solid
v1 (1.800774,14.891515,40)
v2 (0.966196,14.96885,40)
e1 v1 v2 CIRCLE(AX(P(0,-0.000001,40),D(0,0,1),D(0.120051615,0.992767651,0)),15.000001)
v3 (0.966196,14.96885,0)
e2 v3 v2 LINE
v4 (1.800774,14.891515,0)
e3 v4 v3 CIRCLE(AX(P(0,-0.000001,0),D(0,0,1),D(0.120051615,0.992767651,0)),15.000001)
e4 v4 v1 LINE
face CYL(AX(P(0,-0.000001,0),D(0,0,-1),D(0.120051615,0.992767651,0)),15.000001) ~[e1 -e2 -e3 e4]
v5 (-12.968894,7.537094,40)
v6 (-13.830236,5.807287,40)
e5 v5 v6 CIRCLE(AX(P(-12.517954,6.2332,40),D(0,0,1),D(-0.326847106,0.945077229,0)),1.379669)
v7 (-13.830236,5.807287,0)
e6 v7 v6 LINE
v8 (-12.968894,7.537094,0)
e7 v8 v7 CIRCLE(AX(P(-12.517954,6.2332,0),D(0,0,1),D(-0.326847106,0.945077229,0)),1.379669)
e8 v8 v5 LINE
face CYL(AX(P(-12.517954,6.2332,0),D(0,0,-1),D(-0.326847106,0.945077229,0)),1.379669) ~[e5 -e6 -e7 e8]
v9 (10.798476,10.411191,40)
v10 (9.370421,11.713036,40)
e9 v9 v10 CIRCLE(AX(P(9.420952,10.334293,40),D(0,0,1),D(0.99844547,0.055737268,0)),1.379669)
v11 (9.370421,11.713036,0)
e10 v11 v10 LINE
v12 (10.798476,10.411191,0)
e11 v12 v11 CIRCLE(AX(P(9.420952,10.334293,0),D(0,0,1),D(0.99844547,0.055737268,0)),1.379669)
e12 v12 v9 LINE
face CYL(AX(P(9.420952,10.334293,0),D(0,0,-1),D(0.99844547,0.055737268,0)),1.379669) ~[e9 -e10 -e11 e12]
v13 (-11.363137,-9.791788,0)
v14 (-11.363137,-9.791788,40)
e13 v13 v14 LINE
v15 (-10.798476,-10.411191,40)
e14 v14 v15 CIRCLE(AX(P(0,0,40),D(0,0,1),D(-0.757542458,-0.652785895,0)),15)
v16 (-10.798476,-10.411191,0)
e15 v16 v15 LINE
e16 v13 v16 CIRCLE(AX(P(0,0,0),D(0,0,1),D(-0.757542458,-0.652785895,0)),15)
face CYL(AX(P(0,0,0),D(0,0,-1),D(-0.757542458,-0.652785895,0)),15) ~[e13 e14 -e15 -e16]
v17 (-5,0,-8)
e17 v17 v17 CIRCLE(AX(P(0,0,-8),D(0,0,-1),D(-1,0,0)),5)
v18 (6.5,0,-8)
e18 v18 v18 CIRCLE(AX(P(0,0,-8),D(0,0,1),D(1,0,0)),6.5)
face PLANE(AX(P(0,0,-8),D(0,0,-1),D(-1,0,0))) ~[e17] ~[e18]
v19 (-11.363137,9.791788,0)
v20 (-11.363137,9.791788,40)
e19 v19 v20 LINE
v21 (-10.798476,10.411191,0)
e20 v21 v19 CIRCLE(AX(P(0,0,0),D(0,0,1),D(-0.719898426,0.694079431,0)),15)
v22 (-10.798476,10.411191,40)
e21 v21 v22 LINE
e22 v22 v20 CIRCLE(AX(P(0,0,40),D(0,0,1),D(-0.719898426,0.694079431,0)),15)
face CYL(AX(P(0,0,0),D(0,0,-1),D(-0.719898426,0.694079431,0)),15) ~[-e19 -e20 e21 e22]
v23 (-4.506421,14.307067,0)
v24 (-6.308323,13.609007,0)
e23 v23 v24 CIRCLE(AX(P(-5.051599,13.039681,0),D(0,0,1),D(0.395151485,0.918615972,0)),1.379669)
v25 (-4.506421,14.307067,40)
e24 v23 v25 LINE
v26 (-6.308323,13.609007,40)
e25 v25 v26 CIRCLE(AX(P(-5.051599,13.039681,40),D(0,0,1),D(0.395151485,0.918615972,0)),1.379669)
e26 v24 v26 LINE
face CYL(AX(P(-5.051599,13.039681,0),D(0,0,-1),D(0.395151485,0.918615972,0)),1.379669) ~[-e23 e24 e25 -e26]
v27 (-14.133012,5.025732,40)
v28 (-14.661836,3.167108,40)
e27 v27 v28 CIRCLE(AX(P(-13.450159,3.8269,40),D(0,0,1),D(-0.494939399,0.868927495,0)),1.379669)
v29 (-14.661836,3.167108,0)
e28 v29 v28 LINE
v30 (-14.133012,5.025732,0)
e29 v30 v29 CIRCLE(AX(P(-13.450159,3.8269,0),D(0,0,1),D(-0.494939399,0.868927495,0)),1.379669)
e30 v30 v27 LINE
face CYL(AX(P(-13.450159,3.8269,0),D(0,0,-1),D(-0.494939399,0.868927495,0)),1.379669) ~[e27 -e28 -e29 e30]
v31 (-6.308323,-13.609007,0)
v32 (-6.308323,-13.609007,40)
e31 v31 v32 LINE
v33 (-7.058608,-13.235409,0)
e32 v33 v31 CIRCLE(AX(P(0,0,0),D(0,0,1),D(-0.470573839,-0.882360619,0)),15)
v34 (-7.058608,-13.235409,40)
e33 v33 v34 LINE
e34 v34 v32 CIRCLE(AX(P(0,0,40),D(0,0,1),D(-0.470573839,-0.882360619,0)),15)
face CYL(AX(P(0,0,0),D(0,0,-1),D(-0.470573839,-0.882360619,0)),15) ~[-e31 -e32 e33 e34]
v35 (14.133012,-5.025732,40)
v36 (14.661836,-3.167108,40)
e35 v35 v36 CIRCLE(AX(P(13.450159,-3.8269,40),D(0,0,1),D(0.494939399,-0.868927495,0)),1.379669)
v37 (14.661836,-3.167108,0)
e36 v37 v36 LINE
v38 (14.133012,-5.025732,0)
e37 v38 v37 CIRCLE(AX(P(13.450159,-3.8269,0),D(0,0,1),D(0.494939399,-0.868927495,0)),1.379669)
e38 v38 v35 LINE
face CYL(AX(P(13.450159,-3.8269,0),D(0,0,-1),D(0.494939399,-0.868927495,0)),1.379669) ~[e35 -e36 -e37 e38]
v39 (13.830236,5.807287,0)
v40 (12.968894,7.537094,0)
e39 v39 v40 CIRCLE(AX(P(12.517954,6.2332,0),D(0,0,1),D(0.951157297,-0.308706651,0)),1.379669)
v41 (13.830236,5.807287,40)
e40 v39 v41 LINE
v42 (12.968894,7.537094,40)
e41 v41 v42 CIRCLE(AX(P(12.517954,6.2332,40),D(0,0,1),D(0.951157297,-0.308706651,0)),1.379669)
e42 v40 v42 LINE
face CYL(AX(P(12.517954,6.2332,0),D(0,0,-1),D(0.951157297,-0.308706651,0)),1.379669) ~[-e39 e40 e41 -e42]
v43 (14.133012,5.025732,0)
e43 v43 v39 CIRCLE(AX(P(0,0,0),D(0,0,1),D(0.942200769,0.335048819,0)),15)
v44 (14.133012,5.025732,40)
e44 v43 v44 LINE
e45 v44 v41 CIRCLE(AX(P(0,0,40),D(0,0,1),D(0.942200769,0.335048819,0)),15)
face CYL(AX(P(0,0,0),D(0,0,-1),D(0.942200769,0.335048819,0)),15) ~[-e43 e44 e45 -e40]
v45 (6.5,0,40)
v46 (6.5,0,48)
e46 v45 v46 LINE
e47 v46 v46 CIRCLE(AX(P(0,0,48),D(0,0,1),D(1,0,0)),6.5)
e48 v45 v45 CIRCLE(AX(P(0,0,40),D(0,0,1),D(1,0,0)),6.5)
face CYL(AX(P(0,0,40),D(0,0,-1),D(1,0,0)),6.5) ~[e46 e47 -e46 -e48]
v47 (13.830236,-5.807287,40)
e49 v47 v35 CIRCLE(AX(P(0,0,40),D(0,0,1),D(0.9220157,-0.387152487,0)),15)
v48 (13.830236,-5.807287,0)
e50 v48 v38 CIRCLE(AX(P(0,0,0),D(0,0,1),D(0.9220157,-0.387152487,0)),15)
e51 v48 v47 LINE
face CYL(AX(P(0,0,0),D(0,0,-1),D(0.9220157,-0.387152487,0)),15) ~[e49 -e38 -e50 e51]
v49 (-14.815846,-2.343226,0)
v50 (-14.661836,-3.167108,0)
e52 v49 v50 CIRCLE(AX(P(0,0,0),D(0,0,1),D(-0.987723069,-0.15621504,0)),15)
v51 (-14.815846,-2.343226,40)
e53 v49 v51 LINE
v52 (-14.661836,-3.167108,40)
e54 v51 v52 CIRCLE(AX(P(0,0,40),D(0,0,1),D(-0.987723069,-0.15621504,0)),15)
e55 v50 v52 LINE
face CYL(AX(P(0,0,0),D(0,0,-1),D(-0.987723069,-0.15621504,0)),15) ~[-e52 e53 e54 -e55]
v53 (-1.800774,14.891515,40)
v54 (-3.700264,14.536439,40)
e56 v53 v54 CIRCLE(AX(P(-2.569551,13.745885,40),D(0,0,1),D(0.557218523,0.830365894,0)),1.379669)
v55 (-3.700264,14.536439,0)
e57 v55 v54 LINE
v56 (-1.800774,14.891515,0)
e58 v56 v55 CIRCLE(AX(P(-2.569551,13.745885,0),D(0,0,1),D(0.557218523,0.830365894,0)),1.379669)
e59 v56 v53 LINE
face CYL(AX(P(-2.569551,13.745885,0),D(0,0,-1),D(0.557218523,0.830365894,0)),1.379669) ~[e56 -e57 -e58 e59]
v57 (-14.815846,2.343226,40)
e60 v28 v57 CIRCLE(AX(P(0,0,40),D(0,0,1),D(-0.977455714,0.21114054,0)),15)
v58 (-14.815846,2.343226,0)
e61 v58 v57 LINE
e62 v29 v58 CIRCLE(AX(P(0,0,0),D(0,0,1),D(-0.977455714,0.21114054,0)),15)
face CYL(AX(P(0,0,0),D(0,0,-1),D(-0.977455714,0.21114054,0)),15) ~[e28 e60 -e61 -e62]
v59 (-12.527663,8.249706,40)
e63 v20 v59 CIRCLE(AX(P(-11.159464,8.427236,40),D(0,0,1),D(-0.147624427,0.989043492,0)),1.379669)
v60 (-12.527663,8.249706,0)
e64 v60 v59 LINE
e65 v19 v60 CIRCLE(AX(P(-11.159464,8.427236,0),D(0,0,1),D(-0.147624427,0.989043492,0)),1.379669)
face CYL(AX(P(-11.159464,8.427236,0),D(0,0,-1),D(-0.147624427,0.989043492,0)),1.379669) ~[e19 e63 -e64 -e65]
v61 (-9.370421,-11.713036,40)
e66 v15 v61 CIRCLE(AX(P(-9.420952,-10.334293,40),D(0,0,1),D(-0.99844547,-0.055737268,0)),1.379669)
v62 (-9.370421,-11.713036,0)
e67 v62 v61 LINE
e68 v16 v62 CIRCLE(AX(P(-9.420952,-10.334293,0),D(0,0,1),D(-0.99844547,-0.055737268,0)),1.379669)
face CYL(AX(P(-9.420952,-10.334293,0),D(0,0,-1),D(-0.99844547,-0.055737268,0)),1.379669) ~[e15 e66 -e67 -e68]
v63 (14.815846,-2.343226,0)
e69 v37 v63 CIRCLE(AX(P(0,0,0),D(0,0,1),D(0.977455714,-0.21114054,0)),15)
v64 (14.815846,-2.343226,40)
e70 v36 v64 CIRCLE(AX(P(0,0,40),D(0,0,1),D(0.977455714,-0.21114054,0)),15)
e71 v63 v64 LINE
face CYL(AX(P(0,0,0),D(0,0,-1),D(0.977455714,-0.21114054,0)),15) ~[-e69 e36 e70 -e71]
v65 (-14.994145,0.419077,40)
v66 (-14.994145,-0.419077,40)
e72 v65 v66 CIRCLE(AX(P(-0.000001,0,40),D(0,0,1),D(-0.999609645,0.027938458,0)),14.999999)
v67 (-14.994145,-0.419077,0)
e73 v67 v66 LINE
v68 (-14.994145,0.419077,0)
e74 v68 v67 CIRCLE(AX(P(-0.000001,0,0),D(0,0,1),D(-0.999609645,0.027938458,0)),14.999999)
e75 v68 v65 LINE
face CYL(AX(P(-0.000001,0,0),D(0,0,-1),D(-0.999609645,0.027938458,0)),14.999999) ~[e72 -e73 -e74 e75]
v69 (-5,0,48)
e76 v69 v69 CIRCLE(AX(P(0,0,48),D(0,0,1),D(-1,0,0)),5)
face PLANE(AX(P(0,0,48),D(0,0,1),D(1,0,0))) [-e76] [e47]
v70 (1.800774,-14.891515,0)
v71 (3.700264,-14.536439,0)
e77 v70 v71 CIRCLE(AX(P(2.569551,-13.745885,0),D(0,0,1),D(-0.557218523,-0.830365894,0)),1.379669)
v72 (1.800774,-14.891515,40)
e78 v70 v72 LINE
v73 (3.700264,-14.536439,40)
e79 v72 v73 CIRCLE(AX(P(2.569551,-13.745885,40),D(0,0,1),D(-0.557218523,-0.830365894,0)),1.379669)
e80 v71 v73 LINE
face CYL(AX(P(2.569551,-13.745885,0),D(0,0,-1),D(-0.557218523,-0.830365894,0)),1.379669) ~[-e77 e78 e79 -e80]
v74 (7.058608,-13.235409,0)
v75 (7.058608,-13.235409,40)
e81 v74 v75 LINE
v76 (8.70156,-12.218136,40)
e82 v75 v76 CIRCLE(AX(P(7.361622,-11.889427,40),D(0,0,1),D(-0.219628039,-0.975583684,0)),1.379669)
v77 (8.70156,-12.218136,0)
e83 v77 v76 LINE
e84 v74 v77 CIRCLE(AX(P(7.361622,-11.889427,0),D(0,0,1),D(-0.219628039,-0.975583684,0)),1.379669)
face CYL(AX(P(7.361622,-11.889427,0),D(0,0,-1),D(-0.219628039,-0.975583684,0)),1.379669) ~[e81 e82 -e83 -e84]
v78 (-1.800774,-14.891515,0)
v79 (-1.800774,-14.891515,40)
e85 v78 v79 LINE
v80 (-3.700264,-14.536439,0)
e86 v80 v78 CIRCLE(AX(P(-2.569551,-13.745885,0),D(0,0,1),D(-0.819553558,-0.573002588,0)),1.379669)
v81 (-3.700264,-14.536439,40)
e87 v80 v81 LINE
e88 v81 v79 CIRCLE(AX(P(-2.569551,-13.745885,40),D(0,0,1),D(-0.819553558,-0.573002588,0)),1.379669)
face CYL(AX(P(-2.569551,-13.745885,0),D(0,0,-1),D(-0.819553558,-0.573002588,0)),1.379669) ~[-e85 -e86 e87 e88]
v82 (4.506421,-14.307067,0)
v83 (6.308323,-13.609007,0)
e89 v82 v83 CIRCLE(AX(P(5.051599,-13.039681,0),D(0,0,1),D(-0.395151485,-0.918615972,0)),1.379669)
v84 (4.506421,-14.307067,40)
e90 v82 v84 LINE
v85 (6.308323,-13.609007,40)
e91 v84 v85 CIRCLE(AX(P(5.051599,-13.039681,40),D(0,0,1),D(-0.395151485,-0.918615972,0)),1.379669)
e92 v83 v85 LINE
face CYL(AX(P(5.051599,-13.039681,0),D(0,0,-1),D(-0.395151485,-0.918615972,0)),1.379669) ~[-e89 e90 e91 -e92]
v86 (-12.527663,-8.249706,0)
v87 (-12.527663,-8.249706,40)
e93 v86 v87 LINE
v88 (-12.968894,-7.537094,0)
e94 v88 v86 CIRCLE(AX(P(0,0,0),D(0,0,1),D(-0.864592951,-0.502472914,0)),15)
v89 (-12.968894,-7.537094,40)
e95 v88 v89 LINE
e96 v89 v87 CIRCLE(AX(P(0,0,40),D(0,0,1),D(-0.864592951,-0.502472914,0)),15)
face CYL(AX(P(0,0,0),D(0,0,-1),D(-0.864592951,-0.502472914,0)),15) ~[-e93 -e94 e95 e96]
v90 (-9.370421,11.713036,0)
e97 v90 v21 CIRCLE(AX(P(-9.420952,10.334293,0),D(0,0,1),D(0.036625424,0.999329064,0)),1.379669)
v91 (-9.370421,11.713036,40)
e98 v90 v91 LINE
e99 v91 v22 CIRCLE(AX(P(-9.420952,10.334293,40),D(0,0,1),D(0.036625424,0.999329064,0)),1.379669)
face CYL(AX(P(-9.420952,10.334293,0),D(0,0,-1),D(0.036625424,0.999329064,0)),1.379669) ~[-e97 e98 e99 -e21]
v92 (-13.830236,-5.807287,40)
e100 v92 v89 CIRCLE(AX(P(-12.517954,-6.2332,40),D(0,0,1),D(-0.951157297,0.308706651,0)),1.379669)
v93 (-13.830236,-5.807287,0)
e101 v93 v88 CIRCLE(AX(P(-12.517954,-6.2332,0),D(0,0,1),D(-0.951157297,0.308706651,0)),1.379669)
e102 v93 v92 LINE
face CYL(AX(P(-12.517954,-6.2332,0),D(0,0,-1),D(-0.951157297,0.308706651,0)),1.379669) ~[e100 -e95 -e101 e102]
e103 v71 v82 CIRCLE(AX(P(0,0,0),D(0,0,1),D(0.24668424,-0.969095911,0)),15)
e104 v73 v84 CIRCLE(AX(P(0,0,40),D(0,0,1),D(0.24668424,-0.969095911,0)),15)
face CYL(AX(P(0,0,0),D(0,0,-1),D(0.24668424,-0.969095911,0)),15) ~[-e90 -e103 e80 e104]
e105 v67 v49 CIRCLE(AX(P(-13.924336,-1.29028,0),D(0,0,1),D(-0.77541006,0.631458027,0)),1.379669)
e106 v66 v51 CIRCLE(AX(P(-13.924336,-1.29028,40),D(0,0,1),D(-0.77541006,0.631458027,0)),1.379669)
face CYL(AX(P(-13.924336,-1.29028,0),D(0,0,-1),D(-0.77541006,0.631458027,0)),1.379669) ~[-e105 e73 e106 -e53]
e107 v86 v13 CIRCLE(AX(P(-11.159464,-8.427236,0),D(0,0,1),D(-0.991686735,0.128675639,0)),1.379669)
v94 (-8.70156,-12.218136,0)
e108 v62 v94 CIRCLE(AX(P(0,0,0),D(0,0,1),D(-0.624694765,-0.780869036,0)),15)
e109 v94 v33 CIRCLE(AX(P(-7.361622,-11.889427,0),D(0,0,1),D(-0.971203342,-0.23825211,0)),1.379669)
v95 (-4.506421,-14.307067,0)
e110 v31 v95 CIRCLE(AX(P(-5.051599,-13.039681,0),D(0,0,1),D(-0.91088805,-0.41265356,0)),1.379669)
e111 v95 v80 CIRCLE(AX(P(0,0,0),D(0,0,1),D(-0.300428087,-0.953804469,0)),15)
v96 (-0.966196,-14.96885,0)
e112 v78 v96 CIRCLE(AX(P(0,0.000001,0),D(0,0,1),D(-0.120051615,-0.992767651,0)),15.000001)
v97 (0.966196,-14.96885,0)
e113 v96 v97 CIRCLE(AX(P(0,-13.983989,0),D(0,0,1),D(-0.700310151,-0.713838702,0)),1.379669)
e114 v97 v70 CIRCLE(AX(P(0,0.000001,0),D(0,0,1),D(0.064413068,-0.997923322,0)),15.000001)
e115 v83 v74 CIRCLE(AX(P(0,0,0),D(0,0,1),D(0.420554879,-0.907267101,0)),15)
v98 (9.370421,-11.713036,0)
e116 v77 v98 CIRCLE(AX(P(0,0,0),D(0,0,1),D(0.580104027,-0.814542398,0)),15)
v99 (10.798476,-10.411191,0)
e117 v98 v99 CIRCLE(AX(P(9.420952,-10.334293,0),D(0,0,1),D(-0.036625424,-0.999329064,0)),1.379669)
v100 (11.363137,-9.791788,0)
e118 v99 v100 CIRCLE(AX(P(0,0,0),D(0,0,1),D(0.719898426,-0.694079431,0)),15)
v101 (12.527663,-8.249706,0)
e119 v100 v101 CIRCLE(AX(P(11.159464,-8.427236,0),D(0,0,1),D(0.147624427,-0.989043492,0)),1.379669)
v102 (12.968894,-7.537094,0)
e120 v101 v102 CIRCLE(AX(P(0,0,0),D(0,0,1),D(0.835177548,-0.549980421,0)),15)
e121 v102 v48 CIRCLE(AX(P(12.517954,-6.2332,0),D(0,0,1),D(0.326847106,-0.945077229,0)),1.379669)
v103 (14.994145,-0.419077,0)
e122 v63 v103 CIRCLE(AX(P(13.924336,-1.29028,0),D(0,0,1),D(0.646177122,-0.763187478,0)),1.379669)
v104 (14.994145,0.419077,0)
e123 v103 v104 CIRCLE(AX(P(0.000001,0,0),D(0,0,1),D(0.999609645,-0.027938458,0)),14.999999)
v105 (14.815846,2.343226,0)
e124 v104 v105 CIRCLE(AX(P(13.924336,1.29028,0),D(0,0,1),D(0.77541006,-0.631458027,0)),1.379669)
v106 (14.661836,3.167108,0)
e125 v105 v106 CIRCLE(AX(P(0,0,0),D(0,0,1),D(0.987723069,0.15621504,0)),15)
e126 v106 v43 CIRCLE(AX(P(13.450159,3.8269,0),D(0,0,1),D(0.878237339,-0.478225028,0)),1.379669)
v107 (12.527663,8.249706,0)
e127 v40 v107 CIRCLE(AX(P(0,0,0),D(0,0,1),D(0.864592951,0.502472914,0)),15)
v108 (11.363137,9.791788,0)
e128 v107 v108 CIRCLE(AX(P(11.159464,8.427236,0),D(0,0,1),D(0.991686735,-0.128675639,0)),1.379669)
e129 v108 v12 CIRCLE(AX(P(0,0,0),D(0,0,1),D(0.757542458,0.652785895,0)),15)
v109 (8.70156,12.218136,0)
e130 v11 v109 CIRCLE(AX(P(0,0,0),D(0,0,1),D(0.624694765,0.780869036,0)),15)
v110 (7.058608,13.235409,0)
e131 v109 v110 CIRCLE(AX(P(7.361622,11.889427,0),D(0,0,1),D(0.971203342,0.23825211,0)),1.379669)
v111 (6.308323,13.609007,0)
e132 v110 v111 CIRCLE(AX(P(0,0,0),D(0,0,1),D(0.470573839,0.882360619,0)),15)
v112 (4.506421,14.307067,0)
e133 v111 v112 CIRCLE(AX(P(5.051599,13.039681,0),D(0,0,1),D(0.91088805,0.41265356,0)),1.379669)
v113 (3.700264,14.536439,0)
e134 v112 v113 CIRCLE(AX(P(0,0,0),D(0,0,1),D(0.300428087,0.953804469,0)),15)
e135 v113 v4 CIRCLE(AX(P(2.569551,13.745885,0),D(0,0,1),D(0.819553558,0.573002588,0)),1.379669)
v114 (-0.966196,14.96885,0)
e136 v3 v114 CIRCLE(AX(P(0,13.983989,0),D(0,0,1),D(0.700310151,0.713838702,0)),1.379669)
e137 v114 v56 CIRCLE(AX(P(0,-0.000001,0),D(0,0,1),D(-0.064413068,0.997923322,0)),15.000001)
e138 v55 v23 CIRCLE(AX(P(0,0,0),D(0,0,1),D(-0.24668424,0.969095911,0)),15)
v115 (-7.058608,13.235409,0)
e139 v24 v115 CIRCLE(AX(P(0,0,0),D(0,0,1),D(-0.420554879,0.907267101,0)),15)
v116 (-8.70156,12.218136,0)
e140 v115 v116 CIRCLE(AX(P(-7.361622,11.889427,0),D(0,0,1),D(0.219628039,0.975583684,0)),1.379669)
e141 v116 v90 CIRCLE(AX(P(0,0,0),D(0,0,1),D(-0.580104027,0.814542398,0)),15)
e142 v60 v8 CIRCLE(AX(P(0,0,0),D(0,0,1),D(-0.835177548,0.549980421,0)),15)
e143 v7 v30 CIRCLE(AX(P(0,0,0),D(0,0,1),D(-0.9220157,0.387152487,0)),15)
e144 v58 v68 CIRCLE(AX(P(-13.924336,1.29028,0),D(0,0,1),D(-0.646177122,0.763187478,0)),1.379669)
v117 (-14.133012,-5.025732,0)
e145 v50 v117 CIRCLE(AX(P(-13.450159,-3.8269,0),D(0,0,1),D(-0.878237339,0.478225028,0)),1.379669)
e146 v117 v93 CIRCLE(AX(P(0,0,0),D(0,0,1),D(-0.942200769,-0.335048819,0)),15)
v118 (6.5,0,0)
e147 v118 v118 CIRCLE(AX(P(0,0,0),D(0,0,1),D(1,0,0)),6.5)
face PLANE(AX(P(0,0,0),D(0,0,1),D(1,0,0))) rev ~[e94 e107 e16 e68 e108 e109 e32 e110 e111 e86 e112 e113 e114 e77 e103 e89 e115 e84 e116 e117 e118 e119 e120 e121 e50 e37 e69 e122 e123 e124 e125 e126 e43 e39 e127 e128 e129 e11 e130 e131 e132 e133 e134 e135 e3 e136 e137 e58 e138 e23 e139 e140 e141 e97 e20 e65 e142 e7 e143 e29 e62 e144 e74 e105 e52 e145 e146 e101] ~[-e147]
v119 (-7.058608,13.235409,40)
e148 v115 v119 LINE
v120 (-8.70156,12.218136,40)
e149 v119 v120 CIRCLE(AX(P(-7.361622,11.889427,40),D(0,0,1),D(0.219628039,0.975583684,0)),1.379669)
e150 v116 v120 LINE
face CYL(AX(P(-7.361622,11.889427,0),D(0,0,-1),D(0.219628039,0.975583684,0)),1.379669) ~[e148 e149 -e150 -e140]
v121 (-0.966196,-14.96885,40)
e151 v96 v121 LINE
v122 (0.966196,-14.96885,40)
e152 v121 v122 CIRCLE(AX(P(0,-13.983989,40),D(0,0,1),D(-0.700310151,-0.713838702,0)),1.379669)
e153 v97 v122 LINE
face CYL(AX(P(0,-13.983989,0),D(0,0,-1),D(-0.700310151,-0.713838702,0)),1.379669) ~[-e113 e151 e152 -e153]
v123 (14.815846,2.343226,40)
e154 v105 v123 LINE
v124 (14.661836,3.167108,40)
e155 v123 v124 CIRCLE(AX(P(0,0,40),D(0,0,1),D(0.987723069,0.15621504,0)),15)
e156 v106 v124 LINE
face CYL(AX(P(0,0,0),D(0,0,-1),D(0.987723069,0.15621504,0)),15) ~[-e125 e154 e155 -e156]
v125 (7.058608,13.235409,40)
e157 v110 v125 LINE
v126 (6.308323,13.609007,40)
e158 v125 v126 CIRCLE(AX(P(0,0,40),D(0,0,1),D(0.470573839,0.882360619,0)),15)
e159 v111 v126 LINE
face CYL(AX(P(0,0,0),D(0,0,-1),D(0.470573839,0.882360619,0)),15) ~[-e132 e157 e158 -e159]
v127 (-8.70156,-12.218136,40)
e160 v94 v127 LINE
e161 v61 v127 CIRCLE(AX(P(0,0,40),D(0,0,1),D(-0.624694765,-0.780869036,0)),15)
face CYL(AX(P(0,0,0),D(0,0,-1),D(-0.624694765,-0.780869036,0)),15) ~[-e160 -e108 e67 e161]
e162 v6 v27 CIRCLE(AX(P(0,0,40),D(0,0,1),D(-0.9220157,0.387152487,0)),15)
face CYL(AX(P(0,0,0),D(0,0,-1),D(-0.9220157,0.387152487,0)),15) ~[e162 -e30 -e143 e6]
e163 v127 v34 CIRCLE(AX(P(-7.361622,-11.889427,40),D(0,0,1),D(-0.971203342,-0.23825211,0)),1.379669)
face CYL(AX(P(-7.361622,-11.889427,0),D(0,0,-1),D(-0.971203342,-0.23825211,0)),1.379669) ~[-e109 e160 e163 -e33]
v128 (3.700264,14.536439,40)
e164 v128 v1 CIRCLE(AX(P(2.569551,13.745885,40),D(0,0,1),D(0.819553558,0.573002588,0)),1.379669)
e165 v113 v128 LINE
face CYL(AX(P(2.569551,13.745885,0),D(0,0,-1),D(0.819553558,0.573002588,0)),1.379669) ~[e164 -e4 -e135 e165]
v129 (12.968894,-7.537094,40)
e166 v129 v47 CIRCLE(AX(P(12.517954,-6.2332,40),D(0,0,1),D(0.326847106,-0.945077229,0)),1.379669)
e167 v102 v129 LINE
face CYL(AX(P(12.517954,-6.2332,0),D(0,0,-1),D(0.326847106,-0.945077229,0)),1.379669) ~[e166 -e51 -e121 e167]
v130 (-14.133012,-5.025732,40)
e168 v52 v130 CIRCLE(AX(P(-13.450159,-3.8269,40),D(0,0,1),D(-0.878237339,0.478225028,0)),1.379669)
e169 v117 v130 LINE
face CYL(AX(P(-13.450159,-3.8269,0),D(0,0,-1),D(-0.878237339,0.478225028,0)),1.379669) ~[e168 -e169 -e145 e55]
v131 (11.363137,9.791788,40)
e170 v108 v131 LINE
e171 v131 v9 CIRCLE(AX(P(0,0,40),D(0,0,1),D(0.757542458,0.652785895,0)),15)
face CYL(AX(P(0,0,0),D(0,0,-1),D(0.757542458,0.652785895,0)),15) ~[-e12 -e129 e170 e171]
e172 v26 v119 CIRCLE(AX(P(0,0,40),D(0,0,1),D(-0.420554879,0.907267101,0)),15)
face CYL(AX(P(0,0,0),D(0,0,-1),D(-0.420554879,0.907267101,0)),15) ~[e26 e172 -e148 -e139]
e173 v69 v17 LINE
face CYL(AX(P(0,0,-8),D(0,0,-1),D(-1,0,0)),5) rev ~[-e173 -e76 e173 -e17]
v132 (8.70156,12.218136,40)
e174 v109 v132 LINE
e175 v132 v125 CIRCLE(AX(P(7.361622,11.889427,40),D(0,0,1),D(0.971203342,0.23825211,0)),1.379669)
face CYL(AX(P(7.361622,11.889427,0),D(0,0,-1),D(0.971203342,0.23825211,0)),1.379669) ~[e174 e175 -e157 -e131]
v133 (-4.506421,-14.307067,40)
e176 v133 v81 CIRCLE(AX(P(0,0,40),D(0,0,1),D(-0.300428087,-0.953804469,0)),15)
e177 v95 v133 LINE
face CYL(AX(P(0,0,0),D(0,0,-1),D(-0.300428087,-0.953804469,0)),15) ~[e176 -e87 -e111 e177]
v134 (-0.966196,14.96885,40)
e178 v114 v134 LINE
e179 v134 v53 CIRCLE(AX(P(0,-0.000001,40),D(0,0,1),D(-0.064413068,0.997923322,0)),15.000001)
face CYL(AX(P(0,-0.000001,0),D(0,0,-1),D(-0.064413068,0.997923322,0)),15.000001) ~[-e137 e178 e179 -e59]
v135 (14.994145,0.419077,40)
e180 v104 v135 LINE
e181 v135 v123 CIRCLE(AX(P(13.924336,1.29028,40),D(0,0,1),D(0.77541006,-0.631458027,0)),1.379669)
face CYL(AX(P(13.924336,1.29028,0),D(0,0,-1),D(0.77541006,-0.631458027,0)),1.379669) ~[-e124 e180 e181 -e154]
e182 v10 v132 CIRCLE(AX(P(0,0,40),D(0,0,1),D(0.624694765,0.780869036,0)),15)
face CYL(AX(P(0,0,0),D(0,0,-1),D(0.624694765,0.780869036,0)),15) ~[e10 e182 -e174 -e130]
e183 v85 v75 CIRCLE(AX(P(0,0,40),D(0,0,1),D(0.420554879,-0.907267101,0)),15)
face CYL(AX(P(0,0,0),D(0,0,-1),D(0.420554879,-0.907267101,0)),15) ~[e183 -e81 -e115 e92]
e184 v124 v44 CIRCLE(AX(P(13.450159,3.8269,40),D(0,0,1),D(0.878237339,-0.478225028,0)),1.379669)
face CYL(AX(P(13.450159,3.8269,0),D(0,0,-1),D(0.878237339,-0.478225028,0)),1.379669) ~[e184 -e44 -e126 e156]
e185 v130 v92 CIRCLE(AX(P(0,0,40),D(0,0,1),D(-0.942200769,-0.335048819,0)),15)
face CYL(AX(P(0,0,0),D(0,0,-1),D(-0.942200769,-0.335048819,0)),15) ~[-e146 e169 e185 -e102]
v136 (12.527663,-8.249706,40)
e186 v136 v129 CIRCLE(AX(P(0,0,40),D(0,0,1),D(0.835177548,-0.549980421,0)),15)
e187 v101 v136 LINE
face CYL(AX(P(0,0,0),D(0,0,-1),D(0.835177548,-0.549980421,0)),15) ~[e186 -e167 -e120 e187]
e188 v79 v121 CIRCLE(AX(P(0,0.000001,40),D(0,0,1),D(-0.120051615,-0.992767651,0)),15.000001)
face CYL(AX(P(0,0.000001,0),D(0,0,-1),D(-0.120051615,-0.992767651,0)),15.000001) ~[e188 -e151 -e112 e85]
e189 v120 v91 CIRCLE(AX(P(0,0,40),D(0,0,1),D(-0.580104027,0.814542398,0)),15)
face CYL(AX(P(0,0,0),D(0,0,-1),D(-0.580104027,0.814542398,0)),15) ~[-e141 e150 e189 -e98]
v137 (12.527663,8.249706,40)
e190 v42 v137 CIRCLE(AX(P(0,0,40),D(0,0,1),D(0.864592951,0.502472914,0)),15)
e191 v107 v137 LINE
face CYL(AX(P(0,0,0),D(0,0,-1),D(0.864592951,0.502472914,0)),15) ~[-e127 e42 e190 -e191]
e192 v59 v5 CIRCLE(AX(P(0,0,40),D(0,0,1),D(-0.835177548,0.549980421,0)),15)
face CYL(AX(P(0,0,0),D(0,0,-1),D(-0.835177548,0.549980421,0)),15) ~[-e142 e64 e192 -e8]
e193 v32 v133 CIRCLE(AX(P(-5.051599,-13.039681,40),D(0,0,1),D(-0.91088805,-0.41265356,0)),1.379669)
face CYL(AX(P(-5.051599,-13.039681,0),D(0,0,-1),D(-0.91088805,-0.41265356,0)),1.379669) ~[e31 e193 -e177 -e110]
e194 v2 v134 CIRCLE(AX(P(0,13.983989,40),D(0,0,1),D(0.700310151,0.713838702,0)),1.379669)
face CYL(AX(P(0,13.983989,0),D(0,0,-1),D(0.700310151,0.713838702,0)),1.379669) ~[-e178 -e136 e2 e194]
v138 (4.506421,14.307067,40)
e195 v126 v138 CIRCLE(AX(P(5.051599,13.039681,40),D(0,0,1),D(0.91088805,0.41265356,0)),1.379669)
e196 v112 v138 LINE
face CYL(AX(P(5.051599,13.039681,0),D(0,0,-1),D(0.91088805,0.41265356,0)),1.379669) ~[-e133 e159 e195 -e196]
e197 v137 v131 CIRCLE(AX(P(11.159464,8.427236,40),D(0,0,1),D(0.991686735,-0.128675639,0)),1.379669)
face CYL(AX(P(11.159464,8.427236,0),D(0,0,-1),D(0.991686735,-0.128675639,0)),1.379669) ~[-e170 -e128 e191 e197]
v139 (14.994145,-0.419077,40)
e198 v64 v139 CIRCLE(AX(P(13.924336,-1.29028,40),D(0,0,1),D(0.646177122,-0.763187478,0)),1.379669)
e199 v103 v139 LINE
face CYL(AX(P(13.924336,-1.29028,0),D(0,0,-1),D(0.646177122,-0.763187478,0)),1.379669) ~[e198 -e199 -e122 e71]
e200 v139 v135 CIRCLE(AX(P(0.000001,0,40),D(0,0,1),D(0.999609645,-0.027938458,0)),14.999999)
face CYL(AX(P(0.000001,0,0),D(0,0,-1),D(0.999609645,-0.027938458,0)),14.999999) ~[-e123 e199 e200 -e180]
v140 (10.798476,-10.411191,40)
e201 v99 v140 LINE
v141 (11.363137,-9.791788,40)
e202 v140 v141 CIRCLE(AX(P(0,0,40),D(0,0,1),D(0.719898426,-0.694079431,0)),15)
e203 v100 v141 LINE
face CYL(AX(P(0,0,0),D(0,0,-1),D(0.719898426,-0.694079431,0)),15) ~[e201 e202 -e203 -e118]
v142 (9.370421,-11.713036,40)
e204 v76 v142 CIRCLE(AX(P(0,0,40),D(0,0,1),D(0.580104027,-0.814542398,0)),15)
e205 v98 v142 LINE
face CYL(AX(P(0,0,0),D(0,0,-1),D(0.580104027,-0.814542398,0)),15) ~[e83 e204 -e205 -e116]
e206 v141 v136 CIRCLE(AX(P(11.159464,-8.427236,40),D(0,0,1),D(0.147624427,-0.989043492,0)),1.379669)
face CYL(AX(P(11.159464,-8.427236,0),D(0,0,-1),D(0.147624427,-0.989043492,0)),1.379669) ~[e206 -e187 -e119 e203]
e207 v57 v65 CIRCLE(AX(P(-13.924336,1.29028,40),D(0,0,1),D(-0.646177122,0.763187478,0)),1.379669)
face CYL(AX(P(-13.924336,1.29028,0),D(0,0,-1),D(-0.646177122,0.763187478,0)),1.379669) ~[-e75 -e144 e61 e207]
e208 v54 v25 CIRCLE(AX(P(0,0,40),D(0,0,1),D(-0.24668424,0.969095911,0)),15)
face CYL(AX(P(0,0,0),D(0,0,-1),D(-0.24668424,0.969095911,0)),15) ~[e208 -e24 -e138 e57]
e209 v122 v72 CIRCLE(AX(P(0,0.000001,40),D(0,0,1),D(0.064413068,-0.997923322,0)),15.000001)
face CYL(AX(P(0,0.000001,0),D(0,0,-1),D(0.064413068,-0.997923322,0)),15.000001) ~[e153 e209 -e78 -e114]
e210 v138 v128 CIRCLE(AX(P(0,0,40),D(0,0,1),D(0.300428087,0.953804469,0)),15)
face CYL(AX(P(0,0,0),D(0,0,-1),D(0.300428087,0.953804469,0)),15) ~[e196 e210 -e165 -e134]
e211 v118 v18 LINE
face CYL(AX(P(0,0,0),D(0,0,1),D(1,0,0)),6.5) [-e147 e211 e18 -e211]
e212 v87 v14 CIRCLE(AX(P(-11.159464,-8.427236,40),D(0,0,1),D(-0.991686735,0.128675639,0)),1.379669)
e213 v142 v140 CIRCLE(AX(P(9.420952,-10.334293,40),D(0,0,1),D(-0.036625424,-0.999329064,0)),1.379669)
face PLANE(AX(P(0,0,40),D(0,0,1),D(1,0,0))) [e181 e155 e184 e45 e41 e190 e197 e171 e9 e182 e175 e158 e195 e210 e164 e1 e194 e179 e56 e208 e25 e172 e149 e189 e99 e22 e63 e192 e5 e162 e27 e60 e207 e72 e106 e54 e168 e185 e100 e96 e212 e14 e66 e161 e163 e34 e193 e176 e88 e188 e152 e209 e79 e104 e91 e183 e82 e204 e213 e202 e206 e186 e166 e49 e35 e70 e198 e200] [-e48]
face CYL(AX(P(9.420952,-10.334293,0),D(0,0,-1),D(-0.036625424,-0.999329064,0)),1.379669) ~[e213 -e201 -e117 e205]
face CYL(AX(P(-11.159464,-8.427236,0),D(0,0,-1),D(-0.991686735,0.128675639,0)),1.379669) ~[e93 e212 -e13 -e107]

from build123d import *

# Parameters (mm, degrees)
SKETCH1_R               = 5
BOSS_EXTRUDE1_DEPTH     = 40
SKETCH2_R               = 6.5
BOSS_EXTRUDE2_DEPTH     = 8
CUT_EXTRUDE1_DEPTH      = 53.671192562
CUT_EXTRUDE1_DEPTH_BACK = 53.671192562
SKETCH3_R               = 5
SKETCH4_R               = 5
CUT_EXTRUDE2_DEPTH      = 61.052098431


with BuildPart() as part:
    # Sketch1 → Boss-Extrude1 (new body)
    with BuildSketch(Plane.XY):
        with BuildLine():
            ThreePointArc((-3.700263623, 14.536438667), (-4.104944851, 14.427384648), (-4.506421309, 14.30706703))
            ThreePointArc((-4.506421309, 14.30706703), (-5.549993278, 14.326184075), (-6.308323199, 13.609006518))
            ThreePointArc((-6.308323199, 13.609006518), (-6.686075337, 13.42744937), (-7.05860759, 13.235409283))
            ThreePointArc((-7.05860759, 13.235409283), (-8.087923512, 13.062444978), (-8.701560395, 12.218135975))
            ThreePointArc((-8.701560395, 12.218135975), (-9.039519546, 11.970258409), (-9.370421456, 11.713035547))
            ThreePointArc((-9.370421456, 11.713035547), (-10.350429211, 11.353879984), (-10.798476387, 10.411191465))
            ThreePointArc((-10.798476387, 10.411191465), (-11.085133758, 10.105434655), (-11.363136858, 9.791788434))
            ThreePointArc((-11.363136858, 9.791788434), (-12.260463457, 9.258672225), (-12.527663218, 8.249706316))
            ThreePointArc((-12.527663218, 8.249706316), (-12.753257036, 7.896482443), (-12.968894263, 7.53709371))
            ThreePointArc((-12.968894263, 7.53709371), (-13.752982325, 6.848171487), (-13.830235503, 5.807287313))
            ThreePointArc((-13.830235503, 5.807287313), (-13.987083441, 5.418624993), (-14.133011528, 5.025732299))
            ThreePointArc((-14.133011528, 5.025732299), (-14.777159874, 4.204464483), (-14.661835705, 3.167108106))
            ThreePointArc((-14.661835705, 3.167108106), (-14.744596495, 2.756242767), (-14.815846036, 2.343225603))
            ThreePointArc((-14.815846036, 2.343225603), (-15.298118968, 1.417579484), (-14.994144677, 0.419076831))
            ThreePointArc((-14.994144677, 0.419076831), (-15, 0), (-14.994144677, -0.419076831))
            ThreePointArc((-14.994144677, -0.419076831), (-15.298118968, -1.417579484), (-14.815846036, -2.343225603))
            ThreePointArc((-14.815846036, -2.343225603), (-14.744596495, -2.756242767), (-14.661835705, -3.167108106))
            ThreePointArc((-14.661835705, -3.167108106), (-14.777159874, -4.204464483), (-14.133011528, -5.025732299))
            ThreePointArc((-14.133011528, -5.025732299), (-13.987083441, -5.418624993), (-13.830235503, -5.807287313))
            ThreePointArc((-13.830235503, -5.807287313), (-13.752982325, -6.848171487), (-12.968894263, -7.53709371))
            ThreePointArc((-12.968894263, -7.53709371), (-12.753257036, -7.896482443), (-12.527663218, -8.249706316))
            ThreePointArc((-12.527663218, -8.249706316), (-12.260463457, -9.258672225), (-11.363136858, -9.791788434))
            ThreePointArc((-11.363136858, -9.791788434), (-11.085133758, -10.105434655), (-10.798476387, -10.411191465))
            ThreePointArc((-10.798476387, -10.411191465), (-10.350429211, -11.353879984), (-9.370421456, -11.713035547))
            ThreePointArc((-9.370421456, -11.713035547), (-9.039519546, -11.970258409), (-8.701560395, -12.218135975))
            ThreePointArc((-8.701560395, -12.218135975), (-8.087923512, -13.062444978), (-7.05860759, -13.235409283))
            ThreePointArc((-7.05860759, -13.235409283), (-6.686075337, -13.42744937), (-6.308323199, -13.609006518))
            ThreePointArc((-6.308323199, -13.609006518), (-5.549993278, -14.326184075), (-4.506421309, -14.30706703))
            ThreePointArc((-4.506421309, -14.30706703), (-4.104944851, -14.427384648), (-3.700263623, -14.536438667))
            ThreePointArc((-3.700263623, -14.536438667), (-2.82306468, -15.102062156), (-1.800774254, -14.891514768))
            ThreePointArc((-1.800774254, -14.891514768), (-1.384025392, -14.936012644), (-0.966196008, -14.968849831))
            ThreePointArc((-0.966196008, -14.968849831), (0, -15.363657622), (0.966196008, -14.968849831))
            ThreePointArc((0.966196008, -14.968849831), (1.384025392, -14.936012644), (1.800774254, -14.891514768))
            ThreePointArc((1.800774254, -14.891514768), (2.82306468, -15.102062156), (3.700263623, -14.536438667))
            ThreePointArc((3.700263623, -14.536438667), (4.104944851, -14.427384648), (4.506421309, -14.30706703))
            ThreePointArc((4.506421309, -14.30706703), (5.549993278, -14.326184075), (6.308323199, -13.609006518))
            ThreePointArc((6.308323199, -13.609006518), (6.686075337, -13.42744937), (7.05860759, -13.235409283))
            ThreePointArc((7.05860759, -13.235409283), (8.087923512, -13.062444978), (8.701560395, -12.218135975))
            ThreePointArc((8.701560395, -12.218135975), (9.039519546, -11.970258409), (9.370421456, -11.713035547))
            ThreePointArc((9.370421456, -11.713035547), (10.350429211, -11.353879984), (10.798476387, -10.411191465))
            ThreePointArc((10.798476387, -10.411191465), (11.085133758, -10.105434655), (11.363136858, -9.791788434))
            ThreePointArc((11.363136858, -9.791788434), (12.260463457, -9.258672225), (12.527663218, -8.249706316))
            ThreePointArc((12.527663218, -8.249706316), (12.753257036, -7.896482443), (12.968894263, -7.53709371))
            ThreePointArc((12.968894263, -7.53709371), (13.752982325, -6.848171487), (13.830235503, -5.807287313))
            ThreePointArc((13.830235503, -5.807287313), (13.987083441, -5.418624993), (14.133011528, -5.025732299))
            ThreePointArc((14.133011528, -5.025732299), (14.777159874, -4.204464483), (14.661835705, -3.167108106))
            ThreePointArc((14.661835705, -3.167108106), (14.744596495, -2.756242767), (14.815846036, -2.343225603))
            ThreePointArc((14.815846036, -2.343225603), (15.298118968, -1.417579484), (14.994144677, -0.419076831))
            ThreePointArc((14.994144677, -0.419076831), (15, 0), (14.994144677, 0.419076831))
            ThreePointArc((14.994144677, 0.419076831), (15.298118968, 1.417579484), (14.815846036, 2.343225603))
            ThreePointArc((14.815846036, 2.343225603), (14.744596495, 2.756242767), (14.661835705, 3.167108106))
            ThreePointArc((14.661835705, 3.167108106), (14.777159874, 4.204464483), (14.133011528, 5.025732299))
            ThreePointArc((14.133011528, 5.025732299), (13.987083441, 5.418624993), (13.830235503, 5.807287313))
            ThreePointArc((13.830235503, 5.807287313), (13.752982325, 6.848171487), (12.968894263, 7.53709371))
            ThreePointArc((12.968894263, 7.53709371), (12.753257036, 7.896482443), (12.527663218, 8.249706316))
            ThreePointArc((12.527663218, 8.249706316), (12.260463457, 9.258672225), (11.363136858, 9.791788434))
            ThreePointArc((11.363136858, 9.791788434), (11.085133758, 10.105434655), (10.798476387, 10.411191465))
            ThreePointArc((10.798476387, 10.411191465), (10.350429211, 11.353879984), (9.370421456, 11.713035547))
            ThreePointArc((9.370421456, 11.713035547), (9.039519546, 11.970258409), (8.701560395, 12.218135975))
            ThreePointArc((8.701560395, 12.218135975), (8.087923512, 13.062444978), (7.05860759, 13.235409283))
            ThreePointArc((7.05860759, 13.235409283), (6.686075337, 13.42744937), (6.308323199, 13.609006518))
            ThreePointArc((6.308323199, 13.609006518), (5.549993278, 14.326184075), (4.506421309, 14.30706703))
            ThreePointArc((4.506421309, 14.30706703), (4.104944851, 14.427384648), (3.700263623, 14.536438667))
            ThreePointArc((3.700263623, 14.536438667), (2.82306468, 15.102062156), (1.800774254, 14.891514768))
            ThreePointArc((1.800774254, 14.891514768), (1.384025392, 14.936012644), (0.966196008, 14.968849831))
            ThreePointArc((0.966196008, 14.968849831), (0, 15.363657622), (-0.966196008, 14.968849831))
            ThreePointArc((-0.966196008, 14.968849831), (-1.384025392, 14.936012644), (-1.800774254, 14.891514768))
            ThreePointArc((-1.800774254, 14.891514768), (-2.82306468, 15.102062156), (-3.700263623, 14.536438667))
        make_face()
        Circle(SKETCH1_R, mode=Mode.SUBTRACT)
    extrude(amount=BOSS_EXTRUDE1_DEPTH)

    # Sketch2 → Boss-Extrude2 (add)
    with BuildSketch(Plane.XY.offset(40)):
        Circle(SKETCH2_R)
    boss_extrude2 = extrude(amount=BOSS_EXTRUDE2_DEPTH)

    # Sketch3 → Cut-Extrude1 (cut, two sides: drawn at the far end of the back side and taken through both)
    with BuildSketch(Plane.XY.offset(48).offset(-CUT_EXTRUDE1_DEPTH_BACK)):
        Circle(SKETCH3_R)
    extrude(amount=CUT_EXTRUDE1_DEPTH + CUT_EXTRUDE1_DEPTH_BACK, mode=Mode.SUBTRACT)

    # Mirror1: Boss-Extrude2 across plane
    add(boss_extrude2.mirror(Plane(origin=(0, 0, 20), x_dir=(1, 0, 0), z_dir=(0, 0, -1))))

    # Sketch4 → Cut-Extrude2 (cut, through all)
    with BuildSketch(Plane(origin=(0, 0, -8), x_dir=(-1, 0, 0), z_dir=(0, 0, -1))):
        Circle(SKETCH4_R)
    extrude(amount=-CUT_EXTRUDE2_DEPTH, mode=Mode.SUBTRACT)


solid = part.part
